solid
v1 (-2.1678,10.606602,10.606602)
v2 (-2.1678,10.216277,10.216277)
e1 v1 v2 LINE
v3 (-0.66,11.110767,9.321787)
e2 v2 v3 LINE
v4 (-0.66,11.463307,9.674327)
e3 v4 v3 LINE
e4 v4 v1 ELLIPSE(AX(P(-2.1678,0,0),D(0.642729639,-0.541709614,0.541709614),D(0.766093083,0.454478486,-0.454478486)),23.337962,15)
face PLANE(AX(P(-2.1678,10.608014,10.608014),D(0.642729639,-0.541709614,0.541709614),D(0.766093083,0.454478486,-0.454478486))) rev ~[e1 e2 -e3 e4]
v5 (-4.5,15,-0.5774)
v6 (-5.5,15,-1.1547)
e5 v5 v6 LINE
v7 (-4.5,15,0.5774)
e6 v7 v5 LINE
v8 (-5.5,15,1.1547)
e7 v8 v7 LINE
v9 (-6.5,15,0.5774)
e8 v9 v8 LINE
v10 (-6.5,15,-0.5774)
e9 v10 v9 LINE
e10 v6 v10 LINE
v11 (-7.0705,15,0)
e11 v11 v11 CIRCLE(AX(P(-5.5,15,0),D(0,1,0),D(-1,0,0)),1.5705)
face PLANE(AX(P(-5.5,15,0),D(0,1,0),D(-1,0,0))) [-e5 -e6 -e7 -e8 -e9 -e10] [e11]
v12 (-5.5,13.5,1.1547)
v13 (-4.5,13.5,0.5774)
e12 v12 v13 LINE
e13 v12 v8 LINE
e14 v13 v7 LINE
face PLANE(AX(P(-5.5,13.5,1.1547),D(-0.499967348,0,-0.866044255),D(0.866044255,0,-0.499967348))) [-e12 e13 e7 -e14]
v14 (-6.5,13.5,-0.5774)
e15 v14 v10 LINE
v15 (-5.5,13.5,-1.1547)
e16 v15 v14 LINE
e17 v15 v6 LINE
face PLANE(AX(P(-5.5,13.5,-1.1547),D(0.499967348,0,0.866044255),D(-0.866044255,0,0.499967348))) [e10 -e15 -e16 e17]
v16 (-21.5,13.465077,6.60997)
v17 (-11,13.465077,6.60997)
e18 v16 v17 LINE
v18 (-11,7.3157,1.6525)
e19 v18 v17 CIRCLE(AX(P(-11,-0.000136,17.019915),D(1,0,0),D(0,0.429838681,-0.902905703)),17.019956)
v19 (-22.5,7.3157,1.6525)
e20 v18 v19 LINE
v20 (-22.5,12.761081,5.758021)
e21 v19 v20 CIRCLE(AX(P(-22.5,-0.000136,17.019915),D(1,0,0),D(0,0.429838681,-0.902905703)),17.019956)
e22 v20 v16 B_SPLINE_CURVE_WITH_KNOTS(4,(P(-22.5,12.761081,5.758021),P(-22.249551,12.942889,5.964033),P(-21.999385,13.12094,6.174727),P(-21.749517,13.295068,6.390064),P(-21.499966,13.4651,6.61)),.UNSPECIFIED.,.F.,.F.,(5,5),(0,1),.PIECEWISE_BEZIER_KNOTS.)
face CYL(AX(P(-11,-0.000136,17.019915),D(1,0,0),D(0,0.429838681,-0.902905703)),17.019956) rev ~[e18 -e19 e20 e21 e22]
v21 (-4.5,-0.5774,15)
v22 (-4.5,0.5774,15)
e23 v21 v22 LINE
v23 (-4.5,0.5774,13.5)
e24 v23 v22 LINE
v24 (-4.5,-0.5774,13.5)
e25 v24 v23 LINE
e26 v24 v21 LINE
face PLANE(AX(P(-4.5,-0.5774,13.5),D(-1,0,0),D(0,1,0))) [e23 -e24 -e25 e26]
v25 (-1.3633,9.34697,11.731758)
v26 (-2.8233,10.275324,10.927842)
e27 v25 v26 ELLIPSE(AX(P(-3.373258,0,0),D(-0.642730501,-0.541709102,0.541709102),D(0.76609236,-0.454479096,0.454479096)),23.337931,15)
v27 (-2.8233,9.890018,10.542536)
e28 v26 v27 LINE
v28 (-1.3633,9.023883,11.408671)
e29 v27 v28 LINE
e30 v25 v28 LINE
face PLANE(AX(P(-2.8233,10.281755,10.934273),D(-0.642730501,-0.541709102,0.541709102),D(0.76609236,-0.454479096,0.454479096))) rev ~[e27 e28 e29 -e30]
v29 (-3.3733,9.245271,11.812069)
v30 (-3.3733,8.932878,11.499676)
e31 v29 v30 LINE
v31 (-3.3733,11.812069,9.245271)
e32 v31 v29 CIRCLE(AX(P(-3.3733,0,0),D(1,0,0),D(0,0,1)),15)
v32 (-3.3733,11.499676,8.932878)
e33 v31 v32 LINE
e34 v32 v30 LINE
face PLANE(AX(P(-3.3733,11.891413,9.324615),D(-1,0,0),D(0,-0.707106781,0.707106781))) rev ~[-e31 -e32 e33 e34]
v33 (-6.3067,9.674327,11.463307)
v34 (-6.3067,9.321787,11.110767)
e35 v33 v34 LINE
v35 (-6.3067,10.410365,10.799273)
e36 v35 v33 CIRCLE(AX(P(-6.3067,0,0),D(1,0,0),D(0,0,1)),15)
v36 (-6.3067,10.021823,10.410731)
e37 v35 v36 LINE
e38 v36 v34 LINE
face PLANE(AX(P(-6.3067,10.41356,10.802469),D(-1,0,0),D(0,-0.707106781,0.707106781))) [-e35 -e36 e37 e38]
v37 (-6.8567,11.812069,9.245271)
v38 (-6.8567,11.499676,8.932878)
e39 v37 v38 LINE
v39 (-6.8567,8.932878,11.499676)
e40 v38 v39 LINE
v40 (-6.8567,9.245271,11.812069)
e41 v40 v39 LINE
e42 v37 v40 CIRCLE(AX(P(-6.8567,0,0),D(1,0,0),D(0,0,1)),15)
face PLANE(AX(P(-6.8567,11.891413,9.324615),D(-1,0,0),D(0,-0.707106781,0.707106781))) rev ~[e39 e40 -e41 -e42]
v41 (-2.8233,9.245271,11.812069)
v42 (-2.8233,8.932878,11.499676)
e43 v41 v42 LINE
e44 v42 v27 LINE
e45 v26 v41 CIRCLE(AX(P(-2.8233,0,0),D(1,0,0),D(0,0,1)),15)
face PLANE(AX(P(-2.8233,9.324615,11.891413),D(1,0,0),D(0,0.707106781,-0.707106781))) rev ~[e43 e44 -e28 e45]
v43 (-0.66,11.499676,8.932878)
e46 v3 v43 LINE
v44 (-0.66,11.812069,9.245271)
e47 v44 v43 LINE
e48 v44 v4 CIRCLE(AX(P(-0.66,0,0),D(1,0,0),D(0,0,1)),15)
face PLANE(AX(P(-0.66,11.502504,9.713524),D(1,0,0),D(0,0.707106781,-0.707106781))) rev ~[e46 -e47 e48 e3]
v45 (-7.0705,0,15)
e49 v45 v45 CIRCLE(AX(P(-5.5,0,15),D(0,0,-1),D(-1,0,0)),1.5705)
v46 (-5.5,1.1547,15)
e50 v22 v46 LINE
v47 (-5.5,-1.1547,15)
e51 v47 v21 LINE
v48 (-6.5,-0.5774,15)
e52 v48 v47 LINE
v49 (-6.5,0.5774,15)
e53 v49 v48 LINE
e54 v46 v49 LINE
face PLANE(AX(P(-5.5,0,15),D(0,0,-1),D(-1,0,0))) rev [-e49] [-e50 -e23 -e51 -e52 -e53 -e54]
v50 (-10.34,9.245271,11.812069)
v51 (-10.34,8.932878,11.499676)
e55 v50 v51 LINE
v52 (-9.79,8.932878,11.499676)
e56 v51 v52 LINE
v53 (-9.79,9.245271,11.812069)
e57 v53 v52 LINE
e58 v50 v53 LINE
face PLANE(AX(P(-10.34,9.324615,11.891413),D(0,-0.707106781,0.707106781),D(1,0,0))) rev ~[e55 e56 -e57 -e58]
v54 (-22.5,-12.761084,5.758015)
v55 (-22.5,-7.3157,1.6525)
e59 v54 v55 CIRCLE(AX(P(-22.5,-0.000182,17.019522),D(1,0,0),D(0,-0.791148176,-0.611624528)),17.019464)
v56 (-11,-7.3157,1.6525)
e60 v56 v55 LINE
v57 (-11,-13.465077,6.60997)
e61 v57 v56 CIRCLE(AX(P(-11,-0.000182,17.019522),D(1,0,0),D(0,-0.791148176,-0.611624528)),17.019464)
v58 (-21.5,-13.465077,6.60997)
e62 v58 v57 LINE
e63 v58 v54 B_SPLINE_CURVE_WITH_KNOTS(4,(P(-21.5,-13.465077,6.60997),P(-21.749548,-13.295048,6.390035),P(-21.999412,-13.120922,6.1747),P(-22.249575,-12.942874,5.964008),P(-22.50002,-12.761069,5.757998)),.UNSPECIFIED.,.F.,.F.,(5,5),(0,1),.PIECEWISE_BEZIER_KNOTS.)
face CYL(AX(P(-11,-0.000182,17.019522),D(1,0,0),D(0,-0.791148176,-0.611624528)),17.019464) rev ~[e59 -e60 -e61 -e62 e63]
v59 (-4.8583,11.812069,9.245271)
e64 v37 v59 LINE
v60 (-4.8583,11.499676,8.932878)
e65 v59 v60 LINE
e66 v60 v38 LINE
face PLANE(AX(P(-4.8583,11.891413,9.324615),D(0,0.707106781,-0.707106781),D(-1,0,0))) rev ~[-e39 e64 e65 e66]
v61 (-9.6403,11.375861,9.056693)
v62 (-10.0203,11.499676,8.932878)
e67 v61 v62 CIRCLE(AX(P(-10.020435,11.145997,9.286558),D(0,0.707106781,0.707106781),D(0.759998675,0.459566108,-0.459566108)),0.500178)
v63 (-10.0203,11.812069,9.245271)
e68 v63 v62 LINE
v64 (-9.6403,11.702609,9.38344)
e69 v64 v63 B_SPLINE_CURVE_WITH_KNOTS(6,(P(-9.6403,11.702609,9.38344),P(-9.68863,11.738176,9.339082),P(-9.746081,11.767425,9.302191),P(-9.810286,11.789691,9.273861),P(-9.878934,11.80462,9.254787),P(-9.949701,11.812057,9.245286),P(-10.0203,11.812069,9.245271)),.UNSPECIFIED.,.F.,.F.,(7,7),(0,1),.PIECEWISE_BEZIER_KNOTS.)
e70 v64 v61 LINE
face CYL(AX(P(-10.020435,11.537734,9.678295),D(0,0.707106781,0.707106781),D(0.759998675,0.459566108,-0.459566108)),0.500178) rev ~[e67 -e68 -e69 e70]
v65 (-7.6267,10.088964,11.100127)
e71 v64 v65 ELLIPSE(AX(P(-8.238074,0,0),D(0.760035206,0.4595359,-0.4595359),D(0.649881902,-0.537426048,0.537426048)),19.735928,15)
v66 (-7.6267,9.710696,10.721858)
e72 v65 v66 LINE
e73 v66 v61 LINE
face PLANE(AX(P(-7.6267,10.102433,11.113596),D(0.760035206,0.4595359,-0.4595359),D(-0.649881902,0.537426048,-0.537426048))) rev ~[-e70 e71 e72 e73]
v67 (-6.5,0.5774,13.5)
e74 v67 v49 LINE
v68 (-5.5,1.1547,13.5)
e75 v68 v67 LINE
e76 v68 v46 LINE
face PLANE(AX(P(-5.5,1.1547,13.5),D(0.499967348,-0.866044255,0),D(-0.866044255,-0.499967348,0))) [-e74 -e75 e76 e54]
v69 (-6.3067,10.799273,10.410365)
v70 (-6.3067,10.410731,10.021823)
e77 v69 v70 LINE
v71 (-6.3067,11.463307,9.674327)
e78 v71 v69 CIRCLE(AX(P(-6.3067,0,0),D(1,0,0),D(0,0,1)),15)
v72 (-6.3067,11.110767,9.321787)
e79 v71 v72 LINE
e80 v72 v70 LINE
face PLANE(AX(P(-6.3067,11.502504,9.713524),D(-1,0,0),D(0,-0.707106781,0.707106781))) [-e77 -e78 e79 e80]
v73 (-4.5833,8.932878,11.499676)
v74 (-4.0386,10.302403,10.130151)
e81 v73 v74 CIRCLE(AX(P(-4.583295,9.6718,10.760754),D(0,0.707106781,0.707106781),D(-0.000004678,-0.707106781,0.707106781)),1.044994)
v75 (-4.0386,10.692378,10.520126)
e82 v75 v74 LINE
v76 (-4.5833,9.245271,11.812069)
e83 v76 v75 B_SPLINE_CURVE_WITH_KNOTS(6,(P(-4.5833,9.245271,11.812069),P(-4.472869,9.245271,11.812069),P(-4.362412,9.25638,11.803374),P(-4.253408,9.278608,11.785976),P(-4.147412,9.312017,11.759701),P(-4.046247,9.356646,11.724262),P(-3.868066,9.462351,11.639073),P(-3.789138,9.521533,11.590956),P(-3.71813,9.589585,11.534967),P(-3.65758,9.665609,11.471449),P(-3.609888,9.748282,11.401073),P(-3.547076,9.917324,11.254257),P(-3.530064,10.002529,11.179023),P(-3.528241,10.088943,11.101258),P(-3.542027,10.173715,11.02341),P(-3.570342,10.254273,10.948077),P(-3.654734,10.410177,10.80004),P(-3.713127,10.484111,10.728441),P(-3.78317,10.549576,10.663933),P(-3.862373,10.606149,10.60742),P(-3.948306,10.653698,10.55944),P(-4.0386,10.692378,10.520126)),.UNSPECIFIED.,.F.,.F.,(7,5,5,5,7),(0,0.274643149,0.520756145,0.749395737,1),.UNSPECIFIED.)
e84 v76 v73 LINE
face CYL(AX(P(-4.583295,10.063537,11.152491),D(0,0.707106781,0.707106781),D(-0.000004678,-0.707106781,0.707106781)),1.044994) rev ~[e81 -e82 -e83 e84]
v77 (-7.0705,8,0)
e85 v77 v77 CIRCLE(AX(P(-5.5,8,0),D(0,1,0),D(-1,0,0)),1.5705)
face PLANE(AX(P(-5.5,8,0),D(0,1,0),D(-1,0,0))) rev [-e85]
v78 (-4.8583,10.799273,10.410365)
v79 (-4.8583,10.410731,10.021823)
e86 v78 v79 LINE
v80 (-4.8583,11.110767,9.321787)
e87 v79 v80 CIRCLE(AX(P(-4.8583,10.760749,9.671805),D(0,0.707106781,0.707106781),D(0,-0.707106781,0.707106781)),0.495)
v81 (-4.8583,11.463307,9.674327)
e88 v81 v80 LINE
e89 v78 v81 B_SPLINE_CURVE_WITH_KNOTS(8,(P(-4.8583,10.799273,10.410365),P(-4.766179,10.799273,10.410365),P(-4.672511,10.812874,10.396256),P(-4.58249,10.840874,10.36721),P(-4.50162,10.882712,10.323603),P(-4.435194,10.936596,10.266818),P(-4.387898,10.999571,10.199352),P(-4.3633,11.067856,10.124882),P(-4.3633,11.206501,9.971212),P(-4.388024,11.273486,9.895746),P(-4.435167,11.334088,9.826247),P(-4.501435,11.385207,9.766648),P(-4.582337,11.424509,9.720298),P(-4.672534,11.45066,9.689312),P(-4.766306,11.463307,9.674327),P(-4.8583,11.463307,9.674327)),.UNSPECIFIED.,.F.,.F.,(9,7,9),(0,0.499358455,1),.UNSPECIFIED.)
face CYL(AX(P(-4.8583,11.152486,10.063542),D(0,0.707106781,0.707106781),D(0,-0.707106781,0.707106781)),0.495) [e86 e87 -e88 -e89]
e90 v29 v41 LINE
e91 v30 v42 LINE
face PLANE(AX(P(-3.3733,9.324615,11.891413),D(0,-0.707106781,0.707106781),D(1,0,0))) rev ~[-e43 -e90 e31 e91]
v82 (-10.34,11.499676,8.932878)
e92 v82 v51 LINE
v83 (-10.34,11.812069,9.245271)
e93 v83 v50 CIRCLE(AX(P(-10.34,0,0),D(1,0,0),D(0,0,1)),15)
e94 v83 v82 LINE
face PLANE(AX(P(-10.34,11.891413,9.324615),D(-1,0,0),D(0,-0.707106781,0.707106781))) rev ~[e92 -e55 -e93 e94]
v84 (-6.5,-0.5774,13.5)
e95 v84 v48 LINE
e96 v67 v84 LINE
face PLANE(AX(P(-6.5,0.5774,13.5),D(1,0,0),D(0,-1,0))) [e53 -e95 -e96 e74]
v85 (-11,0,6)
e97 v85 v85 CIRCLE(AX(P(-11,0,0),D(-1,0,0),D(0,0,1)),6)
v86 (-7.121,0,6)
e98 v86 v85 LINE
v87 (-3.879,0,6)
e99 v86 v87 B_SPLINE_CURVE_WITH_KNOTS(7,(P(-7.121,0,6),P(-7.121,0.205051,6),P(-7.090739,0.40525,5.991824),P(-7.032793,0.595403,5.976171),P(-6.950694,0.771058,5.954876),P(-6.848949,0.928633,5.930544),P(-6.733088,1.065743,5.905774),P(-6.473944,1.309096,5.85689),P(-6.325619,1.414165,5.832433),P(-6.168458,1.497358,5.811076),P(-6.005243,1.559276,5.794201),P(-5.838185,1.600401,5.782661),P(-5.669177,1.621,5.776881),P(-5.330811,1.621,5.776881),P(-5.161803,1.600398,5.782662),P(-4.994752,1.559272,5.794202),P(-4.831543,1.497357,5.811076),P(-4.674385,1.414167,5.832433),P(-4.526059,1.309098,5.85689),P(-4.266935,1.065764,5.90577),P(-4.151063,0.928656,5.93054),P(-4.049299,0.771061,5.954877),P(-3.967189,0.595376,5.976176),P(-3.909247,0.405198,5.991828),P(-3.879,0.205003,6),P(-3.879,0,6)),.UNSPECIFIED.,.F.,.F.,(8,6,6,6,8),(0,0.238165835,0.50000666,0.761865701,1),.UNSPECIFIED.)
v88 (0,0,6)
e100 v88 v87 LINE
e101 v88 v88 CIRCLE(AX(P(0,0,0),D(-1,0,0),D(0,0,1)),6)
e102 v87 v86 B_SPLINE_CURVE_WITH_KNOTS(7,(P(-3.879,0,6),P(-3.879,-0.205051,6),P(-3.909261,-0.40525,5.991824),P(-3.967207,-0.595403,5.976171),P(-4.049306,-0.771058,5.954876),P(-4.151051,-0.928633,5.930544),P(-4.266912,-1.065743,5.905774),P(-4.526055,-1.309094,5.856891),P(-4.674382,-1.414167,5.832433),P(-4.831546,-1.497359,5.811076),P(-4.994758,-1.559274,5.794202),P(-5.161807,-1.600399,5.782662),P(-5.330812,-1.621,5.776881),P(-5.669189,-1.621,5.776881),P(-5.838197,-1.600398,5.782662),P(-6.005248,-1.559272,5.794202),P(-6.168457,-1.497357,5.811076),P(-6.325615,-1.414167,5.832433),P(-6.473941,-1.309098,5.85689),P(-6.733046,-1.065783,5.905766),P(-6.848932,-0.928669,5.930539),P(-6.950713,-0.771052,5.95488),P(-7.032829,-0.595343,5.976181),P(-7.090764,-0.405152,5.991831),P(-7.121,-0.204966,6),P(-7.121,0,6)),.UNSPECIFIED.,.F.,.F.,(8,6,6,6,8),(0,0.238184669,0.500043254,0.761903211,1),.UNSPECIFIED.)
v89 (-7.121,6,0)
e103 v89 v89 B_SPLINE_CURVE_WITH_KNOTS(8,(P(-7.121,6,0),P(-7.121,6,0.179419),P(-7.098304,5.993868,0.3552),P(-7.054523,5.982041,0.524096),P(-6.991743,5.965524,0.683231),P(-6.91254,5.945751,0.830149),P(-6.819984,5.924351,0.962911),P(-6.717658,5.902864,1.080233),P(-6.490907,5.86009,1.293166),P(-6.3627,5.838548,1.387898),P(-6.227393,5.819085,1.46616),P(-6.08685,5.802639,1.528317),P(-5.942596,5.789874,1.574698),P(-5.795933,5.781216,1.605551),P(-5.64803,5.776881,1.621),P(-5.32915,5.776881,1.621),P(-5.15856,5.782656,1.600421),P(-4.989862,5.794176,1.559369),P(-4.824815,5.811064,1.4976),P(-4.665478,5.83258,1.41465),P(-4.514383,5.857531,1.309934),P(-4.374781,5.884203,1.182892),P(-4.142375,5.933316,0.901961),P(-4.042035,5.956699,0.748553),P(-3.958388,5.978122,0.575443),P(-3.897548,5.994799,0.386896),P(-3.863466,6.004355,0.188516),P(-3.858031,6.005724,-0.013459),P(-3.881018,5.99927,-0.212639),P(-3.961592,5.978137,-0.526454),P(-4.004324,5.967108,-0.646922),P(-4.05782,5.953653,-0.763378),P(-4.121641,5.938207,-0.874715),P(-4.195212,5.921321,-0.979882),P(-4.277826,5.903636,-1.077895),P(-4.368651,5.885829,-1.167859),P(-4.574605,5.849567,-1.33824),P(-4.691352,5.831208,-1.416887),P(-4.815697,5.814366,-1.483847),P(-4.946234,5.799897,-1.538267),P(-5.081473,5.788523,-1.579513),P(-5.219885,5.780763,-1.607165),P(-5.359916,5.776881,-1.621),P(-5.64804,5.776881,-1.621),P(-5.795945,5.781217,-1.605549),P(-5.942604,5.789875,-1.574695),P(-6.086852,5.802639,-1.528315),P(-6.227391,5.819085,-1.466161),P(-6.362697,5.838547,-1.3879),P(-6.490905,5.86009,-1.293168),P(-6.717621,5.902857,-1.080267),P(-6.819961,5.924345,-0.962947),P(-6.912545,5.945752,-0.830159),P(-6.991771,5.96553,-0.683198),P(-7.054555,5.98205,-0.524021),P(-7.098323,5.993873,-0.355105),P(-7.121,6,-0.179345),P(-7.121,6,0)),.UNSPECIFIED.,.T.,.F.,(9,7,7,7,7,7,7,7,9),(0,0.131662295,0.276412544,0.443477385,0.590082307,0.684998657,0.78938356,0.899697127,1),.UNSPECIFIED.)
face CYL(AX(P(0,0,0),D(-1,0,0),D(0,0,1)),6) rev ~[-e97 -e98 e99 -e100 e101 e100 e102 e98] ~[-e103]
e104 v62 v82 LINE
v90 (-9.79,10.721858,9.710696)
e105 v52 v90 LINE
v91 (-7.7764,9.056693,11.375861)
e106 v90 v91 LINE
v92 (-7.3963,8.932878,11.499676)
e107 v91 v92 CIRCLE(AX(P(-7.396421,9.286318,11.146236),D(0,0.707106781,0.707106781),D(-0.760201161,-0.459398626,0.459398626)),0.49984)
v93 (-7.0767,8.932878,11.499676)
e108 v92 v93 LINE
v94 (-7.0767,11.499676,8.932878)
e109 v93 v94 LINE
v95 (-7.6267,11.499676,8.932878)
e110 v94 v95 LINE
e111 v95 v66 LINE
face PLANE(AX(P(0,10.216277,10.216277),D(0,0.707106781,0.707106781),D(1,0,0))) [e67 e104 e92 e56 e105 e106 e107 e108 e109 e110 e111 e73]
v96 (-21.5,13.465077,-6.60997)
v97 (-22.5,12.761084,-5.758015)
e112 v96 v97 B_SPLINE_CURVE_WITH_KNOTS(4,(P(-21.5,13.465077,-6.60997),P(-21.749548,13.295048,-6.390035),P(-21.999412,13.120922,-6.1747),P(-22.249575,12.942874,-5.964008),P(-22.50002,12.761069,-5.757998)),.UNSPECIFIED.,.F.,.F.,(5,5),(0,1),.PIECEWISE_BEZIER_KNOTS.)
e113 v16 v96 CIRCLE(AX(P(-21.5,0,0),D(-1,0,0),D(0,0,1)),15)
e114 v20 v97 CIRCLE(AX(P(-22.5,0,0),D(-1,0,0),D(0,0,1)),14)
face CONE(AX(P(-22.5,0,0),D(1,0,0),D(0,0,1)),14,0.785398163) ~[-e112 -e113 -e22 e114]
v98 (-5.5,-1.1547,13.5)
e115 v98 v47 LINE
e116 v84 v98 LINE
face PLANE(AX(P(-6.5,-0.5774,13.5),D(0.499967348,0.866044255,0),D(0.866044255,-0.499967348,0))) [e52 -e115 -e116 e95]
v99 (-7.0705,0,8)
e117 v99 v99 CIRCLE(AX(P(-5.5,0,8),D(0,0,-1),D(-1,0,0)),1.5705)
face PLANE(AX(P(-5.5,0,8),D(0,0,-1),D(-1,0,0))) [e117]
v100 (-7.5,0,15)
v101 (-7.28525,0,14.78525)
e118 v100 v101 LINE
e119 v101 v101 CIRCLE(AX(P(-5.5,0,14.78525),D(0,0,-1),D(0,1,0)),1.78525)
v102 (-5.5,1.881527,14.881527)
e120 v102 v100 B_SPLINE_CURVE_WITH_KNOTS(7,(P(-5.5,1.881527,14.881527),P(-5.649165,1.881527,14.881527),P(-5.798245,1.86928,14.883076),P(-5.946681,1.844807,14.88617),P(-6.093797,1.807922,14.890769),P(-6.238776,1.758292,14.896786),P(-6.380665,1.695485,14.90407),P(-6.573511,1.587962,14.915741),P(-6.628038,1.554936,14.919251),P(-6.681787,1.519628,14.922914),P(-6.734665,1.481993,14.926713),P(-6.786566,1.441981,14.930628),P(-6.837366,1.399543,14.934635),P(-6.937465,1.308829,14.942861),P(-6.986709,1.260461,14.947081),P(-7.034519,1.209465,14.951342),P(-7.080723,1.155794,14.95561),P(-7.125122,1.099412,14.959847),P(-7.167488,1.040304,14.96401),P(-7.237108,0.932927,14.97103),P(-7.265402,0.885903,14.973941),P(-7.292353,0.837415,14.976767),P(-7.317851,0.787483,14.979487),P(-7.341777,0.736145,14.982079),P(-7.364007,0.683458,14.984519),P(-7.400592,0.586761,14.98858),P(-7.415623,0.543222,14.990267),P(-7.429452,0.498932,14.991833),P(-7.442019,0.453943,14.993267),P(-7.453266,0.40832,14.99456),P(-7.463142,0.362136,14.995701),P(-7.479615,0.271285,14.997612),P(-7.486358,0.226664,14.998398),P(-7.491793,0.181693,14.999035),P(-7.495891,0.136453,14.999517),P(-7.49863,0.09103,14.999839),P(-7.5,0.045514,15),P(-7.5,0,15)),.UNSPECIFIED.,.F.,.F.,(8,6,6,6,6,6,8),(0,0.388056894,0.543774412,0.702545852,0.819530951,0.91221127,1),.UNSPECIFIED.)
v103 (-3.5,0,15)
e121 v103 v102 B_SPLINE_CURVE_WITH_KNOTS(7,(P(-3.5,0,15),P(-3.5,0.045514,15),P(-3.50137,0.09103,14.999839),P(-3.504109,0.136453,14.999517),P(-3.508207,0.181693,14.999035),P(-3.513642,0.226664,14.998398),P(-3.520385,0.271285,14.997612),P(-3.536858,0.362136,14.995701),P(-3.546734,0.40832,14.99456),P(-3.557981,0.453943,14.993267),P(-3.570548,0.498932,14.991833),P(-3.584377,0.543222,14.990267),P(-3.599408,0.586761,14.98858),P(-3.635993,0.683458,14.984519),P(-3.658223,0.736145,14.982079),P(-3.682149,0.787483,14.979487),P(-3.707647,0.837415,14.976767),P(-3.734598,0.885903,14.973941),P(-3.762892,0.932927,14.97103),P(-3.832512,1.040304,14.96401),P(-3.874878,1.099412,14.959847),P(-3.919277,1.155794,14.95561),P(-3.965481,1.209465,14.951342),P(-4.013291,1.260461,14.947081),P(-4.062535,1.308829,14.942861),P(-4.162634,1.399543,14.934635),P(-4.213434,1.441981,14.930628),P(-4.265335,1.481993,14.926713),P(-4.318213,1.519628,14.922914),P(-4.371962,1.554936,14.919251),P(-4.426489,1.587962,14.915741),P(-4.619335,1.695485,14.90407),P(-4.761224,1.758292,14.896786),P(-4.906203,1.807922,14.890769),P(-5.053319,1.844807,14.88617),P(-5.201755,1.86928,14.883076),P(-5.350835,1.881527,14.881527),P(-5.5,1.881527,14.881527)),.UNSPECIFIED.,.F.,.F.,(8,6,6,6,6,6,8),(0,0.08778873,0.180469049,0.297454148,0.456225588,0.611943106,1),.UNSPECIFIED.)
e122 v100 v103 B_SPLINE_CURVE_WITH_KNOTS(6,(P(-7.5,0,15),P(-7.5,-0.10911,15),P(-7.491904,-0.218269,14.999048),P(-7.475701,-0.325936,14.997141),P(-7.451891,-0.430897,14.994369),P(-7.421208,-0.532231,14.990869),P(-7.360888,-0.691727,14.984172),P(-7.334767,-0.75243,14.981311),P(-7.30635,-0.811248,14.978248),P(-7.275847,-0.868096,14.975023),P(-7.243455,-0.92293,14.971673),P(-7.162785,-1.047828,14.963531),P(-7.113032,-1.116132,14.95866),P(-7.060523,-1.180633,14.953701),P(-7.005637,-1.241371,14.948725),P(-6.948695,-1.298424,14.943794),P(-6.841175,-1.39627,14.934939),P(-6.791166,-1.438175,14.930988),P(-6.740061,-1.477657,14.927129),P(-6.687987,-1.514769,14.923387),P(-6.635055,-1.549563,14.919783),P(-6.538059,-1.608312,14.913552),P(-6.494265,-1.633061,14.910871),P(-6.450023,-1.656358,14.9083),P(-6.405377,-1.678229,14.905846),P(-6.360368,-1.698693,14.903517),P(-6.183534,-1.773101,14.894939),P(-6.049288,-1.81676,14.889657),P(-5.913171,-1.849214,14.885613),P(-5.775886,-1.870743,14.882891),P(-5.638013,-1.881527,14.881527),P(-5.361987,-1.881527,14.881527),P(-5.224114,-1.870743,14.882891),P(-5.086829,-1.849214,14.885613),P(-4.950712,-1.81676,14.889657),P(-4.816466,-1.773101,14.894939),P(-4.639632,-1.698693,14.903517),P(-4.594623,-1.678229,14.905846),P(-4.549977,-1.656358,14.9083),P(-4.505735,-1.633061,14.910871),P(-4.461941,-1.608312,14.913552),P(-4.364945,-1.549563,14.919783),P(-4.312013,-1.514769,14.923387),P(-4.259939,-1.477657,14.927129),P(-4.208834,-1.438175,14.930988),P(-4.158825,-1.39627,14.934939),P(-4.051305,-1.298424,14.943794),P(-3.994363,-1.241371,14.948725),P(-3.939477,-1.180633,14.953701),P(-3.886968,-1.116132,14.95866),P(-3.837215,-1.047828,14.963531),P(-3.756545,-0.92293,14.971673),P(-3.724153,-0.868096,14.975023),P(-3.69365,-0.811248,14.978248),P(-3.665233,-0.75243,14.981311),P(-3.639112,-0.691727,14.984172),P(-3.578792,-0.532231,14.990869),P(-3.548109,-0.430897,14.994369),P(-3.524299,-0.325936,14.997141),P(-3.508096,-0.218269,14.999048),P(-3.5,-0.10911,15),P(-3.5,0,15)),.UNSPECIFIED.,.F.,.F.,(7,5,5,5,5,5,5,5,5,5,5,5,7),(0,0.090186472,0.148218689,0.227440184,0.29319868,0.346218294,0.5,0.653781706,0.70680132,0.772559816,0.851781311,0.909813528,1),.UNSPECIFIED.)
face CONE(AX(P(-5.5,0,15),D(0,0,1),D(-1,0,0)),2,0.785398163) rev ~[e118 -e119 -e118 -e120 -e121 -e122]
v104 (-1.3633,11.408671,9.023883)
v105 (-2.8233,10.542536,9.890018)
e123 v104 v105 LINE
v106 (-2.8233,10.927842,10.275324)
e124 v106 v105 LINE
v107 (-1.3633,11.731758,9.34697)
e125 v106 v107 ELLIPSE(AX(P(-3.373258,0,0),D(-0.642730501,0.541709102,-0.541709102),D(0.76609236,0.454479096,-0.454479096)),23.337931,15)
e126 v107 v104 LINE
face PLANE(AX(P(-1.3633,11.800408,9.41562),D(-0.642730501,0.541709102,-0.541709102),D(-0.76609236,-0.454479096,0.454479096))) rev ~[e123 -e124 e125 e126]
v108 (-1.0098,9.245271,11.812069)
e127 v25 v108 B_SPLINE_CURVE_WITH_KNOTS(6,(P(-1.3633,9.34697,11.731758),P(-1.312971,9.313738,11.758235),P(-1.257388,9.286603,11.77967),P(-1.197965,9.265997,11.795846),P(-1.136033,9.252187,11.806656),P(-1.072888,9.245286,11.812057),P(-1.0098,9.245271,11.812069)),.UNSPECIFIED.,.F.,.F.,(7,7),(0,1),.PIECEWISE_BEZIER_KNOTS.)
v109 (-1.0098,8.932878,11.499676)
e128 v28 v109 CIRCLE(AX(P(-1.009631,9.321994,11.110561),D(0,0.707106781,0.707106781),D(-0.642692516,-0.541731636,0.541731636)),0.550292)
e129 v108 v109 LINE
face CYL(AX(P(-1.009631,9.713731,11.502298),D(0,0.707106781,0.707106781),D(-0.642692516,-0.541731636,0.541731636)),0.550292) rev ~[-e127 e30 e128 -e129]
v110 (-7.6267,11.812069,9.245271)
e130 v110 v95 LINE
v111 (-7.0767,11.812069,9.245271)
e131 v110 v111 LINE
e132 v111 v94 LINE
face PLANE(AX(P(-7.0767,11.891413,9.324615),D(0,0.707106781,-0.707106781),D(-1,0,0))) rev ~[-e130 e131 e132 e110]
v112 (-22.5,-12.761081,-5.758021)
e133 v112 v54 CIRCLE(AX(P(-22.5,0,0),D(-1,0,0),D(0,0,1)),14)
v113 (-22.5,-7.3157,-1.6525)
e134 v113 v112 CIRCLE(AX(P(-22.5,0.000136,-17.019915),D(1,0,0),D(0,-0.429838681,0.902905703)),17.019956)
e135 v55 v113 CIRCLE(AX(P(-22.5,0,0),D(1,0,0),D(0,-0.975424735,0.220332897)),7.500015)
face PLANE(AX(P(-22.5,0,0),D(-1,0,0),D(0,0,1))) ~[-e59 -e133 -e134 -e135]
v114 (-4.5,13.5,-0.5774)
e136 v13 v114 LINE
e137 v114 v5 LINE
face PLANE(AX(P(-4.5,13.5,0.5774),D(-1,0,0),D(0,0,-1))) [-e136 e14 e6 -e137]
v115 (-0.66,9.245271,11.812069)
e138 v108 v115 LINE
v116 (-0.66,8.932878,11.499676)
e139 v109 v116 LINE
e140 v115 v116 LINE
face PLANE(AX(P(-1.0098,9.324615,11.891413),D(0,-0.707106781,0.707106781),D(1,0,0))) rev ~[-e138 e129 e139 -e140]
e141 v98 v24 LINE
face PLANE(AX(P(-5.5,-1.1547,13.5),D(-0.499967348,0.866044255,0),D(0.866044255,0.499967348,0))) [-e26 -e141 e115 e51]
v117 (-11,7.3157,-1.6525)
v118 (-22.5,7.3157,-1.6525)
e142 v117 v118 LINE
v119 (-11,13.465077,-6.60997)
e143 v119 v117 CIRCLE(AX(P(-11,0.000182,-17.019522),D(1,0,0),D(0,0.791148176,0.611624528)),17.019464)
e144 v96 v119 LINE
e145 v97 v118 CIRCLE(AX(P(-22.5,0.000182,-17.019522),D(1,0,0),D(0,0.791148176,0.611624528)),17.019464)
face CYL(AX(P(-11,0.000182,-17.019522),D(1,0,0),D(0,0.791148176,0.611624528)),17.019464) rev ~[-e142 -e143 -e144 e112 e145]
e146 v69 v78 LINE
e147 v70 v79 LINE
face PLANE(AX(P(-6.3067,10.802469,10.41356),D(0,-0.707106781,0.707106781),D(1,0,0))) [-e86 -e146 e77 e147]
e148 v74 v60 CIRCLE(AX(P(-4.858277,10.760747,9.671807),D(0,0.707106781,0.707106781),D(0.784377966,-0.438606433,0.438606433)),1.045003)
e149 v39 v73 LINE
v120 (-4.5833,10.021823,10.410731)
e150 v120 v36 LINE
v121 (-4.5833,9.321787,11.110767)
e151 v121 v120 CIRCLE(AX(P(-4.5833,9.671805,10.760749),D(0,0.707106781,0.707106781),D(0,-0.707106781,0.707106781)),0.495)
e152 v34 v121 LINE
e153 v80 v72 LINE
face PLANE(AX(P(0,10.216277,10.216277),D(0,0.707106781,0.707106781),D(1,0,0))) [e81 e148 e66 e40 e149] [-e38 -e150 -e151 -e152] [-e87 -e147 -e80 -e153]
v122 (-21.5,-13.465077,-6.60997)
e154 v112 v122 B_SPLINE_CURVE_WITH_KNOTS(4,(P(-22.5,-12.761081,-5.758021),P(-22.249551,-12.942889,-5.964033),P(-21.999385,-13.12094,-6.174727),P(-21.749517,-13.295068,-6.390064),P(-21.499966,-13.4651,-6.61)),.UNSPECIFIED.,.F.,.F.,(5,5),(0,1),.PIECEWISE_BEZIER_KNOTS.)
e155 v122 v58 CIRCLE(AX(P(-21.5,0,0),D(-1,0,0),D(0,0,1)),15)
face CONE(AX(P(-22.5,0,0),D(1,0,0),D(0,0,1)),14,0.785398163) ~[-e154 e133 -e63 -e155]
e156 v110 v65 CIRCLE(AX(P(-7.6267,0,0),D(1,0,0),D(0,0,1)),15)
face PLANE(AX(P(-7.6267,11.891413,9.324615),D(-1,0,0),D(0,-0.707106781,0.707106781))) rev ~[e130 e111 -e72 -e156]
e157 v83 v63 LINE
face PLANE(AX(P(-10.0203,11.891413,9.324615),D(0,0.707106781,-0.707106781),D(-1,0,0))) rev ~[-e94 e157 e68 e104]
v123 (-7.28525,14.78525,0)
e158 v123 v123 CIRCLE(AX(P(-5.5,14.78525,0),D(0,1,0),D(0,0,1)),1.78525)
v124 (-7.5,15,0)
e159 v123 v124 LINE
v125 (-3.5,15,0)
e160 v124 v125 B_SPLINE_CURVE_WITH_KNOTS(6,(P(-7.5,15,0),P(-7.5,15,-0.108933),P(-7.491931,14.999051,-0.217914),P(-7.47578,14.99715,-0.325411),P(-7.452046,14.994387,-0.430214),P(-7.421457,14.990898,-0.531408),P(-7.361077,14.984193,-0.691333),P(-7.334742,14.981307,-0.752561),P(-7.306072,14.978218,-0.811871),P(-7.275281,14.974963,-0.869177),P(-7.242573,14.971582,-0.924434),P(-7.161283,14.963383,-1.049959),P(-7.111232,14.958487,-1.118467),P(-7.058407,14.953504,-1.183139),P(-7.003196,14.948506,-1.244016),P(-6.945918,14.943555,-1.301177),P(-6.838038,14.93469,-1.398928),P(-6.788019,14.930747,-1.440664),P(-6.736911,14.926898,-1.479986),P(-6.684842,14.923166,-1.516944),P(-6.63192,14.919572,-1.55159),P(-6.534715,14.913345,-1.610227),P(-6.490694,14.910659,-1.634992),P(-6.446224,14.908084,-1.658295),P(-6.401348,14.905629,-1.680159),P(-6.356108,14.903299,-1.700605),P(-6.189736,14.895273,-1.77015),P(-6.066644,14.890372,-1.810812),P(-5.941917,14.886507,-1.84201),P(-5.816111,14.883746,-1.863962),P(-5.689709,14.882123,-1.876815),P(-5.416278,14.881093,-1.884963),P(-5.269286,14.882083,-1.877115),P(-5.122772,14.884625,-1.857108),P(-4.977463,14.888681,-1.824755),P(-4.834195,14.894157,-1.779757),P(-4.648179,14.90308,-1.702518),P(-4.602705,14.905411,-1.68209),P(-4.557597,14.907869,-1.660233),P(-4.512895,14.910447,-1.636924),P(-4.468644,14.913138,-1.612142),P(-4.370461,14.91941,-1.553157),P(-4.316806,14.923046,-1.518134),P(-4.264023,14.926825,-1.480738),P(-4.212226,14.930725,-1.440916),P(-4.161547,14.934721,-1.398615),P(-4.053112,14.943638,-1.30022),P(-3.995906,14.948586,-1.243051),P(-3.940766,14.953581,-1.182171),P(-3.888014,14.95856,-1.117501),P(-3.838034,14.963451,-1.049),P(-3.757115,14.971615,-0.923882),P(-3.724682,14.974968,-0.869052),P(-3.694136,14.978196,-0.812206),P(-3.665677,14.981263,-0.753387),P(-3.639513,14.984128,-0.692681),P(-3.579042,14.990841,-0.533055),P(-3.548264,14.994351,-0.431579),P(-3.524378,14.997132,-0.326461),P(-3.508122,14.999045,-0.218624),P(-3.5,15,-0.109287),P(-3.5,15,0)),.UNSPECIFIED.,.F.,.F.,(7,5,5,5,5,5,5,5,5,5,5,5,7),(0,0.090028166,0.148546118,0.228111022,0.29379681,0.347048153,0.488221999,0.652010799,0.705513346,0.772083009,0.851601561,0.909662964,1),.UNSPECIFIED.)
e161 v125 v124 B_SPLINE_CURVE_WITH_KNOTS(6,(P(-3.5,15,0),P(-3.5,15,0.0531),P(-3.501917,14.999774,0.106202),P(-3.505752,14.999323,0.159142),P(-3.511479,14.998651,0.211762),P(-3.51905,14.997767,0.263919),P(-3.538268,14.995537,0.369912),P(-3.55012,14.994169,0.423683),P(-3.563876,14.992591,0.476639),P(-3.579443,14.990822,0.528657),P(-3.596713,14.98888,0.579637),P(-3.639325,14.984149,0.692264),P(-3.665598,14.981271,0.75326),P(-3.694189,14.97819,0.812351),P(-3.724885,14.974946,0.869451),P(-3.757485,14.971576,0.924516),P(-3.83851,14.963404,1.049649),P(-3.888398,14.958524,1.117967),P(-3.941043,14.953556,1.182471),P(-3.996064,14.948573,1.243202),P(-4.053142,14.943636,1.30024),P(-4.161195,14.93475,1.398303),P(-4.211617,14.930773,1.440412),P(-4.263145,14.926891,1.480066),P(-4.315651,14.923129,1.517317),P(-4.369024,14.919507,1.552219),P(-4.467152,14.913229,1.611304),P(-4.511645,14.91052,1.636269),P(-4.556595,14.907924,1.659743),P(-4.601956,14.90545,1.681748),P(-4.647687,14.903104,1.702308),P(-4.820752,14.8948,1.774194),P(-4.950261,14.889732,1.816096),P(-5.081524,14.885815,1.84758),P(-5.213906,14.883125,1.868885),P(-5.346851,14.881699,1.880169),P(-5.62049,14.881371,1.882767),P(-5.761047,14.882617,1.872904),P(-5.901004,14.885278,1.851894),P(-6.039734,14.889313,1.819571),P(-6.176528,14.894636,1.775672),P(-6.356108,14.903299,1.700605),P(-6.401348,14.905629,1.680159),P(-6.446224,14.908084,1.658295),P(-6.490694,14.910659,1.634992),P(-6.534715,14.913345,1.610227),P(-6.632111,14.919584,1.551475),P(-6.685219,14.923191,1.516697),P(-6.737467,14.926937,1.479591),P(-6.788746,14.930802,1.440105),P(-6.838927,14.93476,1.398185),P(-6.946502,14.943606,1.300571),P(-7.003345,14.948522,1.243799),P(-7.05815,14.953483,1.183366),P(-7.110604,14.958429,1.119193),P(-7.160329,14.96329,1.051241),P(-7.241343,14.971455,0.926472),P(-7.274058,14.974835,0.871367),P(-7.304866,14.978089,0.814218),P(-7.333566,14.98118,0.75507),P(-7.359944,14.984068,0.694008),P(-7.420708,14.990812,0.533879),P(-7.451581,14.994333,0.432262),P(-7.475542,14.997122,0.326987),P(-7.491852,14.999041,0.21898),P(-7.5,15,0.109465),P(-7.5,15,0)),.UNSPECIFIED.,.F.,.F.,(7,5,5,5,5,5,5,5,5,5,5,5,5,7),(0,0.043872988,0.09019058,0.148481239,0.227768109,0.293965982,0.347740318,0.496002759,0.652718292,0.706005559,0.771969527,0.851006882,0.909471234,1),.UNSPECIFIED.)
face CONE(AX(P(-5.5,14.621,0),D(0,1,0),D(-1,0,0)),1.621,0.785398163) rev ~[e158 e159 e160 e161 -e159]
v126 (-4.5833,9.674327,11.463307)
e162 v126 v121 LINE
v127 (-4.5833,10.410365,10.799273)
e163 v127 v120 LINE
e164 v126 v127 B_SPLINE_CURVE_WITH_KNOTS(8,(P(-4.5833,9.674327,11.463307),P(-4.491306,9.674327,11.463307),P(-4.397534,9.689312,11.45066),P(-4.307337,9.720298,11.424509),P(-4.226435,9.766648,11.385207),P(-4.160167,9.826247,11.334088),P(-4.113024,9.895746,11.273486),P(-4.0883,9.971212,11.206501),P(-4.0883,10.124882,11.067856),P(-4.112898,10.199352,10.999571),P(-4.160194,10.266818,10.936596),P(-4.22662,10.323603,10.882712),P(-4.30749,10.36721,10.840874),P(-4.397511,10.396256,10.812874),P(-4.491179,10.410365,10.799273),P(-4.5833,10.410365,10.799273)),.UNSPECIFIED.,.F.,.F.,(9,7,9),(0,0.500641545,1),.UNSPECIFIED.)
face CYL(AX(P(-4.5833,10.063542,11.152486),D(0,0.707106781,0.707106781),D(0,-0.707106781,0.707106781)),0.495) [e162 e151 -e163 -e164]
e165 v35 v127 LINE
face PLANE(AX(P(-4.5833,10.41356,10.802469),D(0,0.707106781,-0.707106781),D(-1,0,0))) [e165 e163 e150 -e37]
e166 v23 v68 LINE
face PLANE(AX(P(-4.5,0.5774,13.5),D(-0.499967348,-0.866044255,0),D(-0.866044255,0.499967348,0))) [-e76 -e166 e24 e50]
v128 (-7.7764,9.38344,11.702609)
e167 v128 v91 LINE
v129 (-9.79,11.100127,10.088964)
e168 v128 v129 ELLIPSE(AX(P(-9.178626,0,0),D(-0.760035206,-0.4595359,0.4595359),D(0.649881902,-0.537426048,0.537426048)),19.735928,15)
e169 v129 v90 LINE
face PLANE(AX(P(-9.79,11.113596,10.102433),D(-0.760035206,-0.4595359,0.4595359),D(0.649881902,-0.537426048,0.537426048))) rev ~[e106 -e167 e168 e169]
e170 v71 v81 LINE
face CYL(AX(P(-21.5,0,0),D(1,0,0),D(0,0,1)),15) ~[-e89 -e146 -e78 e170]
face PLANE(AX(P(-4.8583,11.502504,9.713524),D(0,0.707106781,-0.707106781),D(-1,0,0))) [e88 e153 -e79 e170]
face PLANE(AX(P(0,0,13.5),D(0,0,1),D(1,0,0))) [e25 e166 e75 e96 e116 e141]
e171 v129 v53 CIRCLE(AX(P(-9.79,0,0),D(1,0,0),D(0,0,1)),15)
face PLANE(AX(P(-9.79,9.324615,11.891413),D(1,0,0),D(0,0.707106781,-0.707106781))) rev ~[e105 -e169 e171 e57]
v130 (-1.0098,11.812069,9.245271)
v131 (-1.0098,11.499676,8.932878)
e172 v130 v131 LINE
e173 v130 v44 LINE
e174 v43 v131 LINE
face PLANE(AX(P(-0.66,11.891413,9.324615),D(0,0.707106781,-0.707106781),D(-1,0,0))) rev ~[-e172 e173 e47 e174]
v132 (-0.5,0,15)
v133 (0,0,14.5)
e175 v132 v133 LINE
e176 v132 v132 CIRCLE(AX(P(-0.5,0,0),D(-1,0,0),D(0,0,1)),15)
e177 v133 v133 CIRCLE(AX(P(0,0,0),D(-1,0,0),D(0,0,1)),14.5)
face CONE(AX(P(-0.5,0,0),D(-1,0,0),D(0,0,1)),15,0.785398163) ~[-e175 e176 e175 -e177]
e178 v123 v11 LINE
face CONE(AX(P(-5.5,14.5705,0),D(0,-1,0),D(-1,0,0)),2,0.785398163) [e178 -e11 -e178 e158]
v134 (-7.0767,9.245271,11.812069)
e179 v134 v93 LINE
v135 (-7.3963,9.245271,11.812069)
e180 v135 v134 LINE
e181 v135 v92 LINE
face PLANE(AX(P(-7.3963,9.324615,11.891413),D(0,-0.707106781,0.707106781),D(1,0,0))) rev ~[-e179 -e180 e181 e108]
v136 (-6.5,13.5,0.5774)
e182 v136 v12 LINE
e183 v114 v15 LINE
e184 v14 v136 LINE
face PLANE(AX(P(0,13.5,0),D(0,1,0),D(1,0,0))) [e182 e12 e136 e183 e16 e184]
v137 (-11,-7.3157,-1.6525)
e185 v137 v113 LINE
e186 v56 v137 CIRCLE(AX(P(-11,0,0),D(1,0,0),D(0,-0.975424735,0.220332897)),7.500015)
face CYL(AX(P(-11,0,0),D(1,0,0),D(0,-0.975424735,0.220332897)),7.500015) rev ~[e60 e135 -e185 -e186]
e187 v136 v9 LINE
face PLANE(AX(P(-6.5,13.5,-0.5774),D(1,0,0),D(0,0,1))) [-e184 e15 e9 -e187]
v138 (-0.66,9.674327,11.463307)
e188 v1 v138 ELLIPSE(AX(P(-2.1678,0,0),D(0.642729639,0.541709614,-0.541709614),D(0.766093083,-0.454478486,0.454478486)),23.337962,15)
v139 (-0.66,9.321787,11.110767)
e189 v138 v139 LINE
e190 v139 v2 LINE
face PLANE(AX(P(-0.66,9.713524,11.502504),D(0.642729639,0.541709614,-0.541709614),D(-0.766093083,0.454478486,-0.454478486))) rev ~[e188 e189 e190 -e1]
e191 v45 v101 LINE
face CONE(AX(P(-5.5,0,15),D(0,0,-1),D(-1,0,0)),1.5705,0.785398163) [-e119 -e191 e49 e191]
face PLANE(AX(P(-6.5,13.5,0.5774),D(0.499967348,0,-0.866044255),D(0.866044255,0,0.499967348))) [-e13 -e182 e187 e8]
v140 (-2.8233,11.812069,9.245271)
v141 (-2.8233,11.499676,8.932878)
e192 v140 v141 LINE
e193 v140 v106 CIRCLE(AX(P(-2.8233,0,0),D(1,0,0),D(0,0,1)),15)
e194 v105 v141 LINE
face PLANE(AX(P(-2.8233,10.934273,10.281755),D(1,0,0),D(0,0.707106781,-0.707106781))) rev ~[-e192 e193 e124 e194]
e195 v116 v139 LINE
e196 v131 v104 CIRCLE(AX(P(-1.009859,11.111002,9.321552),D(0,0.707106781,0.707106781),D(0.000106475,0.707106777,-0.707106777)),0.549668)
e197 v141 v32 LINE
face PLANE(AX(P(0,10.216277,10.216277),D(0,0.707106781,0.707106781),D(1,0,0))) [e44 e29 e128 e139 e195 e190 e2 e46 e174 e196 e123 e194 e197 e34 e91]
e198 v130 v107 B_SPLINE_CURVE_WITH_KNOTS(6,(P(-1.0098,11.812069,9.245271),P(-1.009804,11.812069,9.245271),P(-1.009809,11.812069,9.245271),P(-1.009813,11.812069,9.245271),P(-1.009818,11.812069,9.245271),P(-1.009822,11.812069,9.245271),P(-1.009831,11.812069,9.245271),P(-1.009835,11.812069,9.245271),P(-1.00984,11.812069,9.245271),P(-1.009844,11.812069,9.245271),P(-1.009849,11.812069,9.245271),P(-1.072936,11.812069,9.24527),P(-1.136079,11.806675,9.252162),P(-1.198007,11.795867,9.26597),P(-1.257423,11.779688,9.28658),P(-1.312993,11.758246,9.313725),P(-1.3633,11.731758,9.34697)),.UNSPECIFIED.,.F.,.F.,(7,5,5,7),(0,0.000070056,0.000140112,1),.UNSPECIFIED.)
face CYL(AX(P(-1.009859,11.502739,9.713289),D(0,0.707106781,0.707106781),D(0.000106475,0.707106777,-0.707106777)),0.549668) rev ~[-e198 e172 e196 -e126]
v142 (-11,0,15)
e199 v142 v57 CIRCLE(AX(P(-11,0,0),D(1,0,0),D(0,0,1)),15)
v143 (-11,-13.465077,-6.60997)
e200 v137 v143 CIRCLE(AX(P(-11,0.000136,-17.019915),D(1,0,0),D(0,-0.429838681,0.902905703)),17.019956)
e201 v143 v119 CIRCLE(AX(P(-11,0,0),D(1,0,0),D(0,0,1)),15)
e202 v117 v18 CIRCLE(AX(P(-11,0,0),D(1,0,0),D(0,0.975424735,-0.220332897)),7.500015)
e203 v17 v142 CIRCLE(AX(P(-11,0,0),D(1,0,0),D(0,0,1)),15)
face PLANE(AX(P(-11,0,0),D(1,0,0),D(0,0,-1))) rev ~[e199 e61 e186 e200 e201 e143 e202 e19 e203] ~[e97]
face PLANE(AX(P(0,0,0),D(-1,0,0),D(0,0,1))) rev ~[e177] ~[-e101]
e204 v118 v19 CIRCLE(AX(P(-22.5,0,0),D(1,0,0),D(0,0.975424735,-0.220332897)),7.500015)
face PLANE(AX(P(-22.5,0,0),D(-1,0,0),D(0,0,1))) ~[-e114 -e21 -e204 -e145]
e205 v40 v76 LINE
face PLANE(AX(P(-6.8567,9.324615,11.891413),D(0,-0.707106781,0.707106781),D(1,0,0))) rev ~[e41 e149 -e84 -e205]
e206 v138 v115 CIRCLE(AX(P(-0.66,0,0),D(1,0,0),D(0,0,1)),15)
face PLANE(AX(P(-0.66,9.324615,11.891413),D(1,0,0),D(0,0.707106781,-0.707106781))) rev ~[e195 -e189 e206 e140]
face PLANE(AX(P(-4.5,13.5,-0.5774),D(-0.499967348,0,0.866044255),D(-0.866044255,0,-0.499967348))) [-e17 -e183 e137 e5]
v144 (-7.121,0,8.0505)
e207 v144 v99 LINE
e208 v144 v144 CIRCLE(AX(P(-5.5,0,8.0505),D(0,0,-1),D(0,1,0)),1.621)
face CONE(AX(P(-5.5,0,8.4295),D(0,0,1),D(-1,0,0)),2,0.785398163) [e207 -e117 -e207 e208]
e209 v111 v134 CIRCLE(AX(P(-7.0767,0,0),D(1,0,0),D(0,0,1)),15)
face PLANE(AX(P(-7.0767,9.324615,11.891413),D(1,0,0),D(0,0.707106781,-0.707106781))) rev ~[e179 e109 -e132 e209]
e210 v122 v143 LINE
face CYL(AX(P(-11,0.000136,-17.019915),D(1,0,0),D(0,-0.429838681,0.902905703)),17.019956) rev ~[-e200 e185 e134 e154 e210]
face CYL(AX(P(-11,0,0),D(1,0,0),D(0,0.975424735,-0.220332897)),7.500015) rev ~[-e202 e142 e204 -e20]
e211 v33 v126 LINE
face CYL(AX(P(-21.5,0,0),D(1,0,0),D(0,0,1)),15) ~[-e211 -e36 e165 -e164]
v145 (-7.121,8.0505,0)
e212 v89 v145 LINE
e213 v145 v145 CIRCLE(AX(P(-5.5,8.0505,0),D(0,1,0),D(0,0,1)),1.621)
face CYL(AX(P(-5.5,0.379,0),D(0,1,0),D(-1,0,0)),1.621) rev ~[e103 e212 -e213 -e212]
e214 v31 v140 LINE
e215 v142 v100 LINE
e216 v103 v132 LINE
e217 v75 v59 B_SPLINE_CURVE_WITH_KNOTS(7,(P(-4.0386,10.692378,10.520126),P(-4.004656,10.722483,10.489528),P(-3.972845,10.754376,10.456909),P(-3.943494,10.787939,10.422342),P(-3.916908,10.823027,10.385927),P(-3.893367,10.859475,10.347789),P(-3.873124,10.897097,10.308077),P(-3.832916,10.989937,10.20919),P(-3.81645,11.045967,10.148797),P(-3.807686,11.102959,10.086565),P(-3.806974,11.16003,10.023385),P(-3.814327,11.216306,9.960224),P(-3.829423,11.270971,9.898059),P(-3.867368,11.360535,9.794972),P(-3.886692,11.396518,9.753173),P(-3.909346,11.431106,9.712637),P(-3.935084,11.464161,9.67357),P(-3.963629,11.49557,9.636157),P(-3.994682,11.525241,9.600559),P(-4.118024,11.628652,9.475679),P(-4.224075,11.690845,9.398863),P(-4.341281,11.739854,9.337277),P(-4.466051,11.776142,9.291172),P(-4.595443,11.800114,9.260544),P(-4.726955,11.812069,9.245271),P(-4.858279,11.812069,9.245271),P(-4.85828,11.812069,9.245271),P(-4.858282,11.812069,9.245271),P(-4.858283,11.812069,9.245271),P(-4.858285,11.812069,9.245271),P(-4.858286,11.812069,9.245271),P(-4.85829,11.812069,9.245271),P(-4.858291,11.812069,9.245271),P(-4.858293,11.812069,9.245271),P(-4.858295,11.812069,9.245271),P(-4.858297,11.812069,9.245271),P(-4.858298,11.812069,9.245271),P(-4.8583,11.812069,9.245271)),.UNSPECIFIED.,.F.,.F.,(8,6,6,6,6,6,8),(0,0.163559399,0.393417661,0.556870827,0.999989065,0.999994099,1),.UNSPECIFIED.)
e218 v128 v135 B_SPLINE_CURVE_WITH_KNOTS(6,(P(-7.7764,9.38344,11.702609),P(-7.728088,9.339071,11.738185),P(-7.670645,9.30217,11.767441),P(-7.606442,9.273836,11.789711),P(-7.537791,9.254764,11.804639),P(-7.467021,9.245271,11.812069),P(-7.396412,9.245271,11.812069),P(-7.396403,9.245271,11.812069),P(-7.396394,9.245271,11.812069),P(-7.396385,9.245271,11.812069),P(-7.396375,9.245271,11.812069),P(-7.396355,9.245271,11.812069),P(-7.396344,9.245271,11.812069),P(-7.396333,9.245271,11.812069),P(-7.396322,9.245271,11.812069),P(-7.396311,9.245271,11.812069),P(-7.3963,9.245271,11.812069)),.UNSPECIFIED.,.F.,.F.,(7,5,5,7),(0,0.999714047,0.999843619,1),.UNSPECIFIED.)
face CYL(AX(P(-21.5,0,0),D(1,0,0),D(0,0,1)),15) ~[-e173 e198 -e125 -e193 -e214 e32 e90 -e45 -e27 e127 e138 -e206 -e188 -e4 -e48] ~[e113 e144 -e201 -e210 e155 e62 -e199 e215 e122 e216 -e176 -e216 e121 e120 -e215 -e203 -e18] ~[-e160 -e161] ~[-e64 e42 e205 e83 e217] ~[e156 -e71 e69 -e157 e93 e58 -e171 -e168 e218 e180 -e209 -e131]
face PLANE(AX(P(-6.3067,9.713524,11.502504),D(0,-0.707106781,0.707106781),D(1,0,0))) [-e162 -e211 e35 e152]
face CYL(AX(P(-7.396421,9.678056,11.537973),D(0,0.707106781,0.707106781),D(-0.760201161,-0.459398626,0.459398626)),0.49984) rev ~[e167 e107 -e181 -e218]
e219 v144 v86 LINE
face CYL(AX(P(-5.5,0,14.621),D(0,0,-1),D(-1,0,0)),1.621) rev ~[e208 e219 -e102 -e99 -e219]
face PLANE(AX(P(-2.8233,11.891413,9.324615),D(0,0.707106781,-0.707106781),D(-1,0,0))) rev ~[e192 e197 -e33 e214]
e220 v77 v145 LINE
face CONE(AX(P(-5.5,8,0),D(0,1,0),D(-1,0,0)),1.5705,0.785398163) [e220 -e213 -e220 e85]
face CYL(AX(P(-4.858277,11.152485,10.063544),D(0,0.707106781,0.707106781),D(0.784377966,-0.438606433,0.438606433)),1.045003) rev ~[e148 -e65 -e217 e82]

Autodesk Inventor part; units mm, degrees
sketch "Sketch_1" plane through (0, 0, 0) normal (0, 1, 0) x (-1, 0, 0)
  line L0 (22.5, 0) -> (0, 0)
  line L1 (22.5, 14) -> (21.5, 15)
  line L2 (21.5, 15) -> (0.5, 15)
  line L3 (0.5, 15) -> (0, 14.5)
  line L4 (0, 14.5) -> (0, 6)
  line L5 (0, 6) -> (22.5, 6)
  line L6 (22.5, 6) -> (22.5, 14)
revolve "Revolution1" add sketch "Sketch_1" angle 360 about axis through (-22.5, 0, 0) along (-1, 0, 0)
sketch "Sketch_2" plane through (-11, 0, 0) normal (1, 0, 0) x (0, 0, -1)
  arc A0 (-6.61, 13.4651) -> (-6.61, -13.4651) centre (0, 0) ccw
  arc A1 (-6.61, -13.4651) -> (-1.6525, -7.3157) centre (-17.0197, 0) ccw
  arc A2 (-1.6525, -7.3157) -> (1.6525, -7.3157) centre (0, 0) ccw
  arc A3 (1.6525, -7.3157) -> (6.61, -13.4651) centre (17.0197, 0) ccw
  arc A4 (6.61, -13.4651) -> (6.61, 13.4651) centre (0, 0) ccw
  arc A5 (6.61, 13.4651) -> (1.6525, 7.3157) centre (17.0197, 0) ccw
  arc A6 (1.6525, 7.3157) -> (-1.6525, 7.3157) centre (0, 0) ccw
  arc A7 (-1.6525, 7.3157) -> (-6.61, 13.4651) centre (-17.0197, 0) ccw
extrude "Extrusion1" cut sketch "Sketch_2" against normal blind 11.5
sketch "Sketch_7" plane through (0, 0, 0) normal (0, 1, 0) x (-1, 0, 0)
  line L0 (5.5, 0) -> (5.5, 15)
  line L1 (5.5, 15) -> (7.5, 15)
  line L2 (7.5, 15) -> (7.121, 14.621)
  line L3 (7.121, 14.621) -> (7.121, 0.379)
  line L4 (7.121, 0.379) -> (7.5, 0)
  line L5 (7.5, 0) -> (5.5, 0)
  line L6 (5.5, 0) -> (5.5, 15)
revolve "Revolution2" cut sketch "Sketch_7" angle 360 about axis through (-5.5, 0, 0) along (0, 0, -1)
sketch "Sketch_8" plane through (0, 0, 0) normal (0, 0, 1) x (1, 0, 0)
  line L0 (-5.5, 15) -> (-5.5, 0)
  line L1 (-5.5, 0) -> (-7.5, 0)
  line L2 (-7.5, 0) -> (-7.121, 0.379)
  line L3 (-7.121, 0.379) -> (-7.121, 14.621)
  line L4 (-7.121, 14.621) -> (-7.5, 15)
  line L5 (-7.5, 15) -> (-5.5, 15)
  line L6 (-5.5, 15) -> (-5.5, 0)
revolve "Revolution3" cut sketch "Sketch_8" angle 360 about axis through (-5.5, 15, 0) along (0, 1, 0)
sketch "Sketch_12" plane through (0, 0, 0) normal (0, 1, 0) x (-1, 0, 0)
  line L0 (5.5, 8) -> (5.5, 15)
  line L1 (5.5, 15) -> (7.0705, 15)
  line L2 (7.0705, 15) -> (7.5, 14.5705)
  line L3 (7.5, 14.5705) -> (7.5, 8.4295)
  line L4 (7.5, 8.4295) -> (7.0705, 8)
  line L5 (7.0705, 8) -> (5.5, 8)
  line L6 (5.5, 8) -> (5.5, 15)
revolve "Revolution4" add sketch "Sketch_12" angle 360 about axis through (-5.5, 0, 8) along (0, 0, -1)
sketch "Sketch_13" plane through (0, 0, 0) normal (0, 0, 1) x (1, 0, 0)
  line L0 (-5.5, 15) -> (-5.5, 8)
  line L1 (-5.5, 8) -> (-7.0705, 8)
  line L2 (-7.0705, 8) -> (-7.5, 8.4295)
  line L3 (-7.5, 8.4295) -> (-7.5, 14.5705)
  line L4 (-7.5, 14.5705) -> (-7.0705, 15)
  line L5 (-7.0705, 15) -> (-5.5, 15)
  line L6 (-5.5, 15) -> (-5.5, 8)
revolve "Revolution5" add sketch "Sketch_13" angle 360 about axis through (-5.5, 15, 0) along (0, 1, 0)
sketch "Sketch_14" plane through (0, 0, 13.5) normal (0, 0, 1) x (1, 0, 0)
  line L0 (-6.5, -0.5774) -> (-5.5, -1.1547)
  line L1 (-5.5, -1.1547) -> (-4.5, -0.5774)
  line L2 (-4.5, -0.5774) -> (-4.5, 0.5774)
  line L3 (-4.5, 0.5774) -> (-5.5, 1.1547)
  line L4 (-5.5, 1.1547) -> (-6.5, 0.5774)
  line L5 (-6.5, 0.5774) -> (-6.5, -0.5774)
extrude "Extrusion2" cut sketch "Sketch_14" along normal blind 1.5
sketch "Sketch_15" plane through (0, 13.5, 0) normal (0, 1, 0) x (1, 0, 0)
  line L0 (-6.5, -0.5774) -> (-5.5, -1.1547)
  line L1 (-5.5, -1.1547) -> (-4.5, -0.5774)
  line L2 (-4.5, -0.5774) -> (-4.5, 0.5774)
  line L3 (-4.5, 0.5774) -> (-5.5, 1.1547)
  line L4 (-5.5, 1.1547) -> (-6.5, 0.5774)
  line L5 (-6.5, 0.5774) -> (-6.5, -0.5774)
extrude "Extrusion3" cut sketch "Sketch_15" along normal blind 1.5
sketch "Sketch_19" plane through (0, 10.6066, 10.6066) normal (0, 0.7071, 0.7071) x (1, 0, 0)
  line L0 (-10.34, -1.815) -> (-9.79, -1.815)
  line L1 (-9.79, -1.815) -> (-9.79, 0.715)
  line L2 (-9.79, 0.715) -> (-7.7764, -1.6399)
  arc A0 (-7.7764, -1.6399) -> (-7.3963, -1.815) centre (-7.3963, -1.315) ccw
  line L3 (-7.3963, -1.815) -> (-7.0767, -1.815)
  line L4 (-7.0767, -1.815) -> (-7.0767, 1.815)
  line L5 (-7.0767, 1.815) -> (-7.6267, 1.815)
  line L6 (-7.6267, 1.815) -> (-7.6267, -0.715)
  line L7 (-7.6267, -0.715) -> (-9.6403, 1.6399)
  arc A1 (-9.6403, 1.6399) -> (-10.0203, 1.815) centre (-10.0203, 1.315) ccw
  line L8 (-10.0203, 1.815) -> (-10.34, 1.815)
  line L9 (-10.34, 1.815) -> (-10.34, -1.815)
sketch "Sketch_20" plane through (0, 10.6066, 10.6066) normal (0, 0.7071, 0.7071) x (1, 0, 0)
  line L0 (-6.8567, -1.815) -> (-4.5833, -1.815)
  arc A0 (-4.5833, -1.815) -> (-4.0386, 0.1218) centre (-4.5833, -0.77) ccw
  arc A1 (-4.0386, 0.1218) -> (-4.8583, 1.815) centre (-4.8583, 0.77) ccw
  line L1 (-4.8583, 1.815) -> (-6.8567, 1.815)
  line L2 (-6.8567, 1.815) -> (-6.8567, -1.815)
  line L3 (-6.3067, 0.275) -> (-4.8583, 0.275)
  arc A2 (-4.8583, 0.275) -> (-4.8583, 1.265) centre (-4.8583, 0.77) ccw
  line L4 (-4.8583, 1.265) -> (-6.3067, 1.265)
  line L5 (-6.3067, 1.265) -> (-6.3067, 0.275)
  line L6 (-6.3067, -1.265) -> (-4.5833, -1.265)
  arc A3 (-4.5833, -1.265) -> (-4.5833, -0.275) centre (-4.5833, -0.77) ccw
  line L7 (-4.5833, -0.275) -> (-6.3067, -0.275)
  line L8 (-6.3067, -0.275) -> (-6.3067, -1.265)
extrude "Extrusion4" cut sketch "Sketch_19" against normal blind 0.55
extrude "Extrusion5" cut sketch "Sketch_20" against normal blind 0.55
sketch "Sketch_21" plane through (0, 10.6066, 10.6066) normal (0, 0.7071, 0.7071) x (1, 0, 0)
  line L0 (-3.3733, -1.815) -> (-2.8233, -1.815)
  line L1 (-2.8233, -1.815) -> (-2.8233, -0.4614)
  line L2 (-2.8233, -0.4614) -> (-1.3633, -1.6863)
  arc A0 (-1.3633, -1.6863) -> (-1.0098, -1.815) centre (-1.0098, -1.265) ccw
  line L3 (-1.0098, -1.815) -> (-0.66, -1.815)
  line L4 (-0.66, -1.815) -> (-0.66, -1.265)
  line L5 (-0.66, -1.265) -> (-2.1678, 0)
  line L6 (-2.1678, 0) -> (-0.66, 1.265)
  line L7 (-0.66, 1.265) -> (-0.66, 1.815)
  line L8 (-0.66, 1.815) -> (-1.0098, 1.815)
  arc A1 (-1.0098, 1.815) -> (-1.3633, 1.6863) centre (-1.0098, 1.265) ccw
  line L9 (-1.3633, 1.6863) -> (-2.8233, 0.4614)
  line L10 (-2.8233, 0.4614) -> (-2.8233, 1.815)
  line L11 (-2.8233, 1.815) -> (-3.3733, 1.815)
  line L12 (-3.3733, 1.815) -> (-3.3733, -1.815)
extrude "Extrusion6" cut sketch "Sketch_21" against normal blind 0.55
ref_plane "part3_XY" through (-12.5, 0, 0) normal (1, 0, 0) x (0, 0, -1)
ref_plane "part3_YZ" through (-12.5, 0, 0) normal (0, 0, -1) x (0, 1, 0)
ref_plane "part3_ZX" through (-12.5, 0, 0) normal (0, 1, 0) x (1, 0, 0)
properties part number "MJT-30-BL-8-12 Hub 2"
